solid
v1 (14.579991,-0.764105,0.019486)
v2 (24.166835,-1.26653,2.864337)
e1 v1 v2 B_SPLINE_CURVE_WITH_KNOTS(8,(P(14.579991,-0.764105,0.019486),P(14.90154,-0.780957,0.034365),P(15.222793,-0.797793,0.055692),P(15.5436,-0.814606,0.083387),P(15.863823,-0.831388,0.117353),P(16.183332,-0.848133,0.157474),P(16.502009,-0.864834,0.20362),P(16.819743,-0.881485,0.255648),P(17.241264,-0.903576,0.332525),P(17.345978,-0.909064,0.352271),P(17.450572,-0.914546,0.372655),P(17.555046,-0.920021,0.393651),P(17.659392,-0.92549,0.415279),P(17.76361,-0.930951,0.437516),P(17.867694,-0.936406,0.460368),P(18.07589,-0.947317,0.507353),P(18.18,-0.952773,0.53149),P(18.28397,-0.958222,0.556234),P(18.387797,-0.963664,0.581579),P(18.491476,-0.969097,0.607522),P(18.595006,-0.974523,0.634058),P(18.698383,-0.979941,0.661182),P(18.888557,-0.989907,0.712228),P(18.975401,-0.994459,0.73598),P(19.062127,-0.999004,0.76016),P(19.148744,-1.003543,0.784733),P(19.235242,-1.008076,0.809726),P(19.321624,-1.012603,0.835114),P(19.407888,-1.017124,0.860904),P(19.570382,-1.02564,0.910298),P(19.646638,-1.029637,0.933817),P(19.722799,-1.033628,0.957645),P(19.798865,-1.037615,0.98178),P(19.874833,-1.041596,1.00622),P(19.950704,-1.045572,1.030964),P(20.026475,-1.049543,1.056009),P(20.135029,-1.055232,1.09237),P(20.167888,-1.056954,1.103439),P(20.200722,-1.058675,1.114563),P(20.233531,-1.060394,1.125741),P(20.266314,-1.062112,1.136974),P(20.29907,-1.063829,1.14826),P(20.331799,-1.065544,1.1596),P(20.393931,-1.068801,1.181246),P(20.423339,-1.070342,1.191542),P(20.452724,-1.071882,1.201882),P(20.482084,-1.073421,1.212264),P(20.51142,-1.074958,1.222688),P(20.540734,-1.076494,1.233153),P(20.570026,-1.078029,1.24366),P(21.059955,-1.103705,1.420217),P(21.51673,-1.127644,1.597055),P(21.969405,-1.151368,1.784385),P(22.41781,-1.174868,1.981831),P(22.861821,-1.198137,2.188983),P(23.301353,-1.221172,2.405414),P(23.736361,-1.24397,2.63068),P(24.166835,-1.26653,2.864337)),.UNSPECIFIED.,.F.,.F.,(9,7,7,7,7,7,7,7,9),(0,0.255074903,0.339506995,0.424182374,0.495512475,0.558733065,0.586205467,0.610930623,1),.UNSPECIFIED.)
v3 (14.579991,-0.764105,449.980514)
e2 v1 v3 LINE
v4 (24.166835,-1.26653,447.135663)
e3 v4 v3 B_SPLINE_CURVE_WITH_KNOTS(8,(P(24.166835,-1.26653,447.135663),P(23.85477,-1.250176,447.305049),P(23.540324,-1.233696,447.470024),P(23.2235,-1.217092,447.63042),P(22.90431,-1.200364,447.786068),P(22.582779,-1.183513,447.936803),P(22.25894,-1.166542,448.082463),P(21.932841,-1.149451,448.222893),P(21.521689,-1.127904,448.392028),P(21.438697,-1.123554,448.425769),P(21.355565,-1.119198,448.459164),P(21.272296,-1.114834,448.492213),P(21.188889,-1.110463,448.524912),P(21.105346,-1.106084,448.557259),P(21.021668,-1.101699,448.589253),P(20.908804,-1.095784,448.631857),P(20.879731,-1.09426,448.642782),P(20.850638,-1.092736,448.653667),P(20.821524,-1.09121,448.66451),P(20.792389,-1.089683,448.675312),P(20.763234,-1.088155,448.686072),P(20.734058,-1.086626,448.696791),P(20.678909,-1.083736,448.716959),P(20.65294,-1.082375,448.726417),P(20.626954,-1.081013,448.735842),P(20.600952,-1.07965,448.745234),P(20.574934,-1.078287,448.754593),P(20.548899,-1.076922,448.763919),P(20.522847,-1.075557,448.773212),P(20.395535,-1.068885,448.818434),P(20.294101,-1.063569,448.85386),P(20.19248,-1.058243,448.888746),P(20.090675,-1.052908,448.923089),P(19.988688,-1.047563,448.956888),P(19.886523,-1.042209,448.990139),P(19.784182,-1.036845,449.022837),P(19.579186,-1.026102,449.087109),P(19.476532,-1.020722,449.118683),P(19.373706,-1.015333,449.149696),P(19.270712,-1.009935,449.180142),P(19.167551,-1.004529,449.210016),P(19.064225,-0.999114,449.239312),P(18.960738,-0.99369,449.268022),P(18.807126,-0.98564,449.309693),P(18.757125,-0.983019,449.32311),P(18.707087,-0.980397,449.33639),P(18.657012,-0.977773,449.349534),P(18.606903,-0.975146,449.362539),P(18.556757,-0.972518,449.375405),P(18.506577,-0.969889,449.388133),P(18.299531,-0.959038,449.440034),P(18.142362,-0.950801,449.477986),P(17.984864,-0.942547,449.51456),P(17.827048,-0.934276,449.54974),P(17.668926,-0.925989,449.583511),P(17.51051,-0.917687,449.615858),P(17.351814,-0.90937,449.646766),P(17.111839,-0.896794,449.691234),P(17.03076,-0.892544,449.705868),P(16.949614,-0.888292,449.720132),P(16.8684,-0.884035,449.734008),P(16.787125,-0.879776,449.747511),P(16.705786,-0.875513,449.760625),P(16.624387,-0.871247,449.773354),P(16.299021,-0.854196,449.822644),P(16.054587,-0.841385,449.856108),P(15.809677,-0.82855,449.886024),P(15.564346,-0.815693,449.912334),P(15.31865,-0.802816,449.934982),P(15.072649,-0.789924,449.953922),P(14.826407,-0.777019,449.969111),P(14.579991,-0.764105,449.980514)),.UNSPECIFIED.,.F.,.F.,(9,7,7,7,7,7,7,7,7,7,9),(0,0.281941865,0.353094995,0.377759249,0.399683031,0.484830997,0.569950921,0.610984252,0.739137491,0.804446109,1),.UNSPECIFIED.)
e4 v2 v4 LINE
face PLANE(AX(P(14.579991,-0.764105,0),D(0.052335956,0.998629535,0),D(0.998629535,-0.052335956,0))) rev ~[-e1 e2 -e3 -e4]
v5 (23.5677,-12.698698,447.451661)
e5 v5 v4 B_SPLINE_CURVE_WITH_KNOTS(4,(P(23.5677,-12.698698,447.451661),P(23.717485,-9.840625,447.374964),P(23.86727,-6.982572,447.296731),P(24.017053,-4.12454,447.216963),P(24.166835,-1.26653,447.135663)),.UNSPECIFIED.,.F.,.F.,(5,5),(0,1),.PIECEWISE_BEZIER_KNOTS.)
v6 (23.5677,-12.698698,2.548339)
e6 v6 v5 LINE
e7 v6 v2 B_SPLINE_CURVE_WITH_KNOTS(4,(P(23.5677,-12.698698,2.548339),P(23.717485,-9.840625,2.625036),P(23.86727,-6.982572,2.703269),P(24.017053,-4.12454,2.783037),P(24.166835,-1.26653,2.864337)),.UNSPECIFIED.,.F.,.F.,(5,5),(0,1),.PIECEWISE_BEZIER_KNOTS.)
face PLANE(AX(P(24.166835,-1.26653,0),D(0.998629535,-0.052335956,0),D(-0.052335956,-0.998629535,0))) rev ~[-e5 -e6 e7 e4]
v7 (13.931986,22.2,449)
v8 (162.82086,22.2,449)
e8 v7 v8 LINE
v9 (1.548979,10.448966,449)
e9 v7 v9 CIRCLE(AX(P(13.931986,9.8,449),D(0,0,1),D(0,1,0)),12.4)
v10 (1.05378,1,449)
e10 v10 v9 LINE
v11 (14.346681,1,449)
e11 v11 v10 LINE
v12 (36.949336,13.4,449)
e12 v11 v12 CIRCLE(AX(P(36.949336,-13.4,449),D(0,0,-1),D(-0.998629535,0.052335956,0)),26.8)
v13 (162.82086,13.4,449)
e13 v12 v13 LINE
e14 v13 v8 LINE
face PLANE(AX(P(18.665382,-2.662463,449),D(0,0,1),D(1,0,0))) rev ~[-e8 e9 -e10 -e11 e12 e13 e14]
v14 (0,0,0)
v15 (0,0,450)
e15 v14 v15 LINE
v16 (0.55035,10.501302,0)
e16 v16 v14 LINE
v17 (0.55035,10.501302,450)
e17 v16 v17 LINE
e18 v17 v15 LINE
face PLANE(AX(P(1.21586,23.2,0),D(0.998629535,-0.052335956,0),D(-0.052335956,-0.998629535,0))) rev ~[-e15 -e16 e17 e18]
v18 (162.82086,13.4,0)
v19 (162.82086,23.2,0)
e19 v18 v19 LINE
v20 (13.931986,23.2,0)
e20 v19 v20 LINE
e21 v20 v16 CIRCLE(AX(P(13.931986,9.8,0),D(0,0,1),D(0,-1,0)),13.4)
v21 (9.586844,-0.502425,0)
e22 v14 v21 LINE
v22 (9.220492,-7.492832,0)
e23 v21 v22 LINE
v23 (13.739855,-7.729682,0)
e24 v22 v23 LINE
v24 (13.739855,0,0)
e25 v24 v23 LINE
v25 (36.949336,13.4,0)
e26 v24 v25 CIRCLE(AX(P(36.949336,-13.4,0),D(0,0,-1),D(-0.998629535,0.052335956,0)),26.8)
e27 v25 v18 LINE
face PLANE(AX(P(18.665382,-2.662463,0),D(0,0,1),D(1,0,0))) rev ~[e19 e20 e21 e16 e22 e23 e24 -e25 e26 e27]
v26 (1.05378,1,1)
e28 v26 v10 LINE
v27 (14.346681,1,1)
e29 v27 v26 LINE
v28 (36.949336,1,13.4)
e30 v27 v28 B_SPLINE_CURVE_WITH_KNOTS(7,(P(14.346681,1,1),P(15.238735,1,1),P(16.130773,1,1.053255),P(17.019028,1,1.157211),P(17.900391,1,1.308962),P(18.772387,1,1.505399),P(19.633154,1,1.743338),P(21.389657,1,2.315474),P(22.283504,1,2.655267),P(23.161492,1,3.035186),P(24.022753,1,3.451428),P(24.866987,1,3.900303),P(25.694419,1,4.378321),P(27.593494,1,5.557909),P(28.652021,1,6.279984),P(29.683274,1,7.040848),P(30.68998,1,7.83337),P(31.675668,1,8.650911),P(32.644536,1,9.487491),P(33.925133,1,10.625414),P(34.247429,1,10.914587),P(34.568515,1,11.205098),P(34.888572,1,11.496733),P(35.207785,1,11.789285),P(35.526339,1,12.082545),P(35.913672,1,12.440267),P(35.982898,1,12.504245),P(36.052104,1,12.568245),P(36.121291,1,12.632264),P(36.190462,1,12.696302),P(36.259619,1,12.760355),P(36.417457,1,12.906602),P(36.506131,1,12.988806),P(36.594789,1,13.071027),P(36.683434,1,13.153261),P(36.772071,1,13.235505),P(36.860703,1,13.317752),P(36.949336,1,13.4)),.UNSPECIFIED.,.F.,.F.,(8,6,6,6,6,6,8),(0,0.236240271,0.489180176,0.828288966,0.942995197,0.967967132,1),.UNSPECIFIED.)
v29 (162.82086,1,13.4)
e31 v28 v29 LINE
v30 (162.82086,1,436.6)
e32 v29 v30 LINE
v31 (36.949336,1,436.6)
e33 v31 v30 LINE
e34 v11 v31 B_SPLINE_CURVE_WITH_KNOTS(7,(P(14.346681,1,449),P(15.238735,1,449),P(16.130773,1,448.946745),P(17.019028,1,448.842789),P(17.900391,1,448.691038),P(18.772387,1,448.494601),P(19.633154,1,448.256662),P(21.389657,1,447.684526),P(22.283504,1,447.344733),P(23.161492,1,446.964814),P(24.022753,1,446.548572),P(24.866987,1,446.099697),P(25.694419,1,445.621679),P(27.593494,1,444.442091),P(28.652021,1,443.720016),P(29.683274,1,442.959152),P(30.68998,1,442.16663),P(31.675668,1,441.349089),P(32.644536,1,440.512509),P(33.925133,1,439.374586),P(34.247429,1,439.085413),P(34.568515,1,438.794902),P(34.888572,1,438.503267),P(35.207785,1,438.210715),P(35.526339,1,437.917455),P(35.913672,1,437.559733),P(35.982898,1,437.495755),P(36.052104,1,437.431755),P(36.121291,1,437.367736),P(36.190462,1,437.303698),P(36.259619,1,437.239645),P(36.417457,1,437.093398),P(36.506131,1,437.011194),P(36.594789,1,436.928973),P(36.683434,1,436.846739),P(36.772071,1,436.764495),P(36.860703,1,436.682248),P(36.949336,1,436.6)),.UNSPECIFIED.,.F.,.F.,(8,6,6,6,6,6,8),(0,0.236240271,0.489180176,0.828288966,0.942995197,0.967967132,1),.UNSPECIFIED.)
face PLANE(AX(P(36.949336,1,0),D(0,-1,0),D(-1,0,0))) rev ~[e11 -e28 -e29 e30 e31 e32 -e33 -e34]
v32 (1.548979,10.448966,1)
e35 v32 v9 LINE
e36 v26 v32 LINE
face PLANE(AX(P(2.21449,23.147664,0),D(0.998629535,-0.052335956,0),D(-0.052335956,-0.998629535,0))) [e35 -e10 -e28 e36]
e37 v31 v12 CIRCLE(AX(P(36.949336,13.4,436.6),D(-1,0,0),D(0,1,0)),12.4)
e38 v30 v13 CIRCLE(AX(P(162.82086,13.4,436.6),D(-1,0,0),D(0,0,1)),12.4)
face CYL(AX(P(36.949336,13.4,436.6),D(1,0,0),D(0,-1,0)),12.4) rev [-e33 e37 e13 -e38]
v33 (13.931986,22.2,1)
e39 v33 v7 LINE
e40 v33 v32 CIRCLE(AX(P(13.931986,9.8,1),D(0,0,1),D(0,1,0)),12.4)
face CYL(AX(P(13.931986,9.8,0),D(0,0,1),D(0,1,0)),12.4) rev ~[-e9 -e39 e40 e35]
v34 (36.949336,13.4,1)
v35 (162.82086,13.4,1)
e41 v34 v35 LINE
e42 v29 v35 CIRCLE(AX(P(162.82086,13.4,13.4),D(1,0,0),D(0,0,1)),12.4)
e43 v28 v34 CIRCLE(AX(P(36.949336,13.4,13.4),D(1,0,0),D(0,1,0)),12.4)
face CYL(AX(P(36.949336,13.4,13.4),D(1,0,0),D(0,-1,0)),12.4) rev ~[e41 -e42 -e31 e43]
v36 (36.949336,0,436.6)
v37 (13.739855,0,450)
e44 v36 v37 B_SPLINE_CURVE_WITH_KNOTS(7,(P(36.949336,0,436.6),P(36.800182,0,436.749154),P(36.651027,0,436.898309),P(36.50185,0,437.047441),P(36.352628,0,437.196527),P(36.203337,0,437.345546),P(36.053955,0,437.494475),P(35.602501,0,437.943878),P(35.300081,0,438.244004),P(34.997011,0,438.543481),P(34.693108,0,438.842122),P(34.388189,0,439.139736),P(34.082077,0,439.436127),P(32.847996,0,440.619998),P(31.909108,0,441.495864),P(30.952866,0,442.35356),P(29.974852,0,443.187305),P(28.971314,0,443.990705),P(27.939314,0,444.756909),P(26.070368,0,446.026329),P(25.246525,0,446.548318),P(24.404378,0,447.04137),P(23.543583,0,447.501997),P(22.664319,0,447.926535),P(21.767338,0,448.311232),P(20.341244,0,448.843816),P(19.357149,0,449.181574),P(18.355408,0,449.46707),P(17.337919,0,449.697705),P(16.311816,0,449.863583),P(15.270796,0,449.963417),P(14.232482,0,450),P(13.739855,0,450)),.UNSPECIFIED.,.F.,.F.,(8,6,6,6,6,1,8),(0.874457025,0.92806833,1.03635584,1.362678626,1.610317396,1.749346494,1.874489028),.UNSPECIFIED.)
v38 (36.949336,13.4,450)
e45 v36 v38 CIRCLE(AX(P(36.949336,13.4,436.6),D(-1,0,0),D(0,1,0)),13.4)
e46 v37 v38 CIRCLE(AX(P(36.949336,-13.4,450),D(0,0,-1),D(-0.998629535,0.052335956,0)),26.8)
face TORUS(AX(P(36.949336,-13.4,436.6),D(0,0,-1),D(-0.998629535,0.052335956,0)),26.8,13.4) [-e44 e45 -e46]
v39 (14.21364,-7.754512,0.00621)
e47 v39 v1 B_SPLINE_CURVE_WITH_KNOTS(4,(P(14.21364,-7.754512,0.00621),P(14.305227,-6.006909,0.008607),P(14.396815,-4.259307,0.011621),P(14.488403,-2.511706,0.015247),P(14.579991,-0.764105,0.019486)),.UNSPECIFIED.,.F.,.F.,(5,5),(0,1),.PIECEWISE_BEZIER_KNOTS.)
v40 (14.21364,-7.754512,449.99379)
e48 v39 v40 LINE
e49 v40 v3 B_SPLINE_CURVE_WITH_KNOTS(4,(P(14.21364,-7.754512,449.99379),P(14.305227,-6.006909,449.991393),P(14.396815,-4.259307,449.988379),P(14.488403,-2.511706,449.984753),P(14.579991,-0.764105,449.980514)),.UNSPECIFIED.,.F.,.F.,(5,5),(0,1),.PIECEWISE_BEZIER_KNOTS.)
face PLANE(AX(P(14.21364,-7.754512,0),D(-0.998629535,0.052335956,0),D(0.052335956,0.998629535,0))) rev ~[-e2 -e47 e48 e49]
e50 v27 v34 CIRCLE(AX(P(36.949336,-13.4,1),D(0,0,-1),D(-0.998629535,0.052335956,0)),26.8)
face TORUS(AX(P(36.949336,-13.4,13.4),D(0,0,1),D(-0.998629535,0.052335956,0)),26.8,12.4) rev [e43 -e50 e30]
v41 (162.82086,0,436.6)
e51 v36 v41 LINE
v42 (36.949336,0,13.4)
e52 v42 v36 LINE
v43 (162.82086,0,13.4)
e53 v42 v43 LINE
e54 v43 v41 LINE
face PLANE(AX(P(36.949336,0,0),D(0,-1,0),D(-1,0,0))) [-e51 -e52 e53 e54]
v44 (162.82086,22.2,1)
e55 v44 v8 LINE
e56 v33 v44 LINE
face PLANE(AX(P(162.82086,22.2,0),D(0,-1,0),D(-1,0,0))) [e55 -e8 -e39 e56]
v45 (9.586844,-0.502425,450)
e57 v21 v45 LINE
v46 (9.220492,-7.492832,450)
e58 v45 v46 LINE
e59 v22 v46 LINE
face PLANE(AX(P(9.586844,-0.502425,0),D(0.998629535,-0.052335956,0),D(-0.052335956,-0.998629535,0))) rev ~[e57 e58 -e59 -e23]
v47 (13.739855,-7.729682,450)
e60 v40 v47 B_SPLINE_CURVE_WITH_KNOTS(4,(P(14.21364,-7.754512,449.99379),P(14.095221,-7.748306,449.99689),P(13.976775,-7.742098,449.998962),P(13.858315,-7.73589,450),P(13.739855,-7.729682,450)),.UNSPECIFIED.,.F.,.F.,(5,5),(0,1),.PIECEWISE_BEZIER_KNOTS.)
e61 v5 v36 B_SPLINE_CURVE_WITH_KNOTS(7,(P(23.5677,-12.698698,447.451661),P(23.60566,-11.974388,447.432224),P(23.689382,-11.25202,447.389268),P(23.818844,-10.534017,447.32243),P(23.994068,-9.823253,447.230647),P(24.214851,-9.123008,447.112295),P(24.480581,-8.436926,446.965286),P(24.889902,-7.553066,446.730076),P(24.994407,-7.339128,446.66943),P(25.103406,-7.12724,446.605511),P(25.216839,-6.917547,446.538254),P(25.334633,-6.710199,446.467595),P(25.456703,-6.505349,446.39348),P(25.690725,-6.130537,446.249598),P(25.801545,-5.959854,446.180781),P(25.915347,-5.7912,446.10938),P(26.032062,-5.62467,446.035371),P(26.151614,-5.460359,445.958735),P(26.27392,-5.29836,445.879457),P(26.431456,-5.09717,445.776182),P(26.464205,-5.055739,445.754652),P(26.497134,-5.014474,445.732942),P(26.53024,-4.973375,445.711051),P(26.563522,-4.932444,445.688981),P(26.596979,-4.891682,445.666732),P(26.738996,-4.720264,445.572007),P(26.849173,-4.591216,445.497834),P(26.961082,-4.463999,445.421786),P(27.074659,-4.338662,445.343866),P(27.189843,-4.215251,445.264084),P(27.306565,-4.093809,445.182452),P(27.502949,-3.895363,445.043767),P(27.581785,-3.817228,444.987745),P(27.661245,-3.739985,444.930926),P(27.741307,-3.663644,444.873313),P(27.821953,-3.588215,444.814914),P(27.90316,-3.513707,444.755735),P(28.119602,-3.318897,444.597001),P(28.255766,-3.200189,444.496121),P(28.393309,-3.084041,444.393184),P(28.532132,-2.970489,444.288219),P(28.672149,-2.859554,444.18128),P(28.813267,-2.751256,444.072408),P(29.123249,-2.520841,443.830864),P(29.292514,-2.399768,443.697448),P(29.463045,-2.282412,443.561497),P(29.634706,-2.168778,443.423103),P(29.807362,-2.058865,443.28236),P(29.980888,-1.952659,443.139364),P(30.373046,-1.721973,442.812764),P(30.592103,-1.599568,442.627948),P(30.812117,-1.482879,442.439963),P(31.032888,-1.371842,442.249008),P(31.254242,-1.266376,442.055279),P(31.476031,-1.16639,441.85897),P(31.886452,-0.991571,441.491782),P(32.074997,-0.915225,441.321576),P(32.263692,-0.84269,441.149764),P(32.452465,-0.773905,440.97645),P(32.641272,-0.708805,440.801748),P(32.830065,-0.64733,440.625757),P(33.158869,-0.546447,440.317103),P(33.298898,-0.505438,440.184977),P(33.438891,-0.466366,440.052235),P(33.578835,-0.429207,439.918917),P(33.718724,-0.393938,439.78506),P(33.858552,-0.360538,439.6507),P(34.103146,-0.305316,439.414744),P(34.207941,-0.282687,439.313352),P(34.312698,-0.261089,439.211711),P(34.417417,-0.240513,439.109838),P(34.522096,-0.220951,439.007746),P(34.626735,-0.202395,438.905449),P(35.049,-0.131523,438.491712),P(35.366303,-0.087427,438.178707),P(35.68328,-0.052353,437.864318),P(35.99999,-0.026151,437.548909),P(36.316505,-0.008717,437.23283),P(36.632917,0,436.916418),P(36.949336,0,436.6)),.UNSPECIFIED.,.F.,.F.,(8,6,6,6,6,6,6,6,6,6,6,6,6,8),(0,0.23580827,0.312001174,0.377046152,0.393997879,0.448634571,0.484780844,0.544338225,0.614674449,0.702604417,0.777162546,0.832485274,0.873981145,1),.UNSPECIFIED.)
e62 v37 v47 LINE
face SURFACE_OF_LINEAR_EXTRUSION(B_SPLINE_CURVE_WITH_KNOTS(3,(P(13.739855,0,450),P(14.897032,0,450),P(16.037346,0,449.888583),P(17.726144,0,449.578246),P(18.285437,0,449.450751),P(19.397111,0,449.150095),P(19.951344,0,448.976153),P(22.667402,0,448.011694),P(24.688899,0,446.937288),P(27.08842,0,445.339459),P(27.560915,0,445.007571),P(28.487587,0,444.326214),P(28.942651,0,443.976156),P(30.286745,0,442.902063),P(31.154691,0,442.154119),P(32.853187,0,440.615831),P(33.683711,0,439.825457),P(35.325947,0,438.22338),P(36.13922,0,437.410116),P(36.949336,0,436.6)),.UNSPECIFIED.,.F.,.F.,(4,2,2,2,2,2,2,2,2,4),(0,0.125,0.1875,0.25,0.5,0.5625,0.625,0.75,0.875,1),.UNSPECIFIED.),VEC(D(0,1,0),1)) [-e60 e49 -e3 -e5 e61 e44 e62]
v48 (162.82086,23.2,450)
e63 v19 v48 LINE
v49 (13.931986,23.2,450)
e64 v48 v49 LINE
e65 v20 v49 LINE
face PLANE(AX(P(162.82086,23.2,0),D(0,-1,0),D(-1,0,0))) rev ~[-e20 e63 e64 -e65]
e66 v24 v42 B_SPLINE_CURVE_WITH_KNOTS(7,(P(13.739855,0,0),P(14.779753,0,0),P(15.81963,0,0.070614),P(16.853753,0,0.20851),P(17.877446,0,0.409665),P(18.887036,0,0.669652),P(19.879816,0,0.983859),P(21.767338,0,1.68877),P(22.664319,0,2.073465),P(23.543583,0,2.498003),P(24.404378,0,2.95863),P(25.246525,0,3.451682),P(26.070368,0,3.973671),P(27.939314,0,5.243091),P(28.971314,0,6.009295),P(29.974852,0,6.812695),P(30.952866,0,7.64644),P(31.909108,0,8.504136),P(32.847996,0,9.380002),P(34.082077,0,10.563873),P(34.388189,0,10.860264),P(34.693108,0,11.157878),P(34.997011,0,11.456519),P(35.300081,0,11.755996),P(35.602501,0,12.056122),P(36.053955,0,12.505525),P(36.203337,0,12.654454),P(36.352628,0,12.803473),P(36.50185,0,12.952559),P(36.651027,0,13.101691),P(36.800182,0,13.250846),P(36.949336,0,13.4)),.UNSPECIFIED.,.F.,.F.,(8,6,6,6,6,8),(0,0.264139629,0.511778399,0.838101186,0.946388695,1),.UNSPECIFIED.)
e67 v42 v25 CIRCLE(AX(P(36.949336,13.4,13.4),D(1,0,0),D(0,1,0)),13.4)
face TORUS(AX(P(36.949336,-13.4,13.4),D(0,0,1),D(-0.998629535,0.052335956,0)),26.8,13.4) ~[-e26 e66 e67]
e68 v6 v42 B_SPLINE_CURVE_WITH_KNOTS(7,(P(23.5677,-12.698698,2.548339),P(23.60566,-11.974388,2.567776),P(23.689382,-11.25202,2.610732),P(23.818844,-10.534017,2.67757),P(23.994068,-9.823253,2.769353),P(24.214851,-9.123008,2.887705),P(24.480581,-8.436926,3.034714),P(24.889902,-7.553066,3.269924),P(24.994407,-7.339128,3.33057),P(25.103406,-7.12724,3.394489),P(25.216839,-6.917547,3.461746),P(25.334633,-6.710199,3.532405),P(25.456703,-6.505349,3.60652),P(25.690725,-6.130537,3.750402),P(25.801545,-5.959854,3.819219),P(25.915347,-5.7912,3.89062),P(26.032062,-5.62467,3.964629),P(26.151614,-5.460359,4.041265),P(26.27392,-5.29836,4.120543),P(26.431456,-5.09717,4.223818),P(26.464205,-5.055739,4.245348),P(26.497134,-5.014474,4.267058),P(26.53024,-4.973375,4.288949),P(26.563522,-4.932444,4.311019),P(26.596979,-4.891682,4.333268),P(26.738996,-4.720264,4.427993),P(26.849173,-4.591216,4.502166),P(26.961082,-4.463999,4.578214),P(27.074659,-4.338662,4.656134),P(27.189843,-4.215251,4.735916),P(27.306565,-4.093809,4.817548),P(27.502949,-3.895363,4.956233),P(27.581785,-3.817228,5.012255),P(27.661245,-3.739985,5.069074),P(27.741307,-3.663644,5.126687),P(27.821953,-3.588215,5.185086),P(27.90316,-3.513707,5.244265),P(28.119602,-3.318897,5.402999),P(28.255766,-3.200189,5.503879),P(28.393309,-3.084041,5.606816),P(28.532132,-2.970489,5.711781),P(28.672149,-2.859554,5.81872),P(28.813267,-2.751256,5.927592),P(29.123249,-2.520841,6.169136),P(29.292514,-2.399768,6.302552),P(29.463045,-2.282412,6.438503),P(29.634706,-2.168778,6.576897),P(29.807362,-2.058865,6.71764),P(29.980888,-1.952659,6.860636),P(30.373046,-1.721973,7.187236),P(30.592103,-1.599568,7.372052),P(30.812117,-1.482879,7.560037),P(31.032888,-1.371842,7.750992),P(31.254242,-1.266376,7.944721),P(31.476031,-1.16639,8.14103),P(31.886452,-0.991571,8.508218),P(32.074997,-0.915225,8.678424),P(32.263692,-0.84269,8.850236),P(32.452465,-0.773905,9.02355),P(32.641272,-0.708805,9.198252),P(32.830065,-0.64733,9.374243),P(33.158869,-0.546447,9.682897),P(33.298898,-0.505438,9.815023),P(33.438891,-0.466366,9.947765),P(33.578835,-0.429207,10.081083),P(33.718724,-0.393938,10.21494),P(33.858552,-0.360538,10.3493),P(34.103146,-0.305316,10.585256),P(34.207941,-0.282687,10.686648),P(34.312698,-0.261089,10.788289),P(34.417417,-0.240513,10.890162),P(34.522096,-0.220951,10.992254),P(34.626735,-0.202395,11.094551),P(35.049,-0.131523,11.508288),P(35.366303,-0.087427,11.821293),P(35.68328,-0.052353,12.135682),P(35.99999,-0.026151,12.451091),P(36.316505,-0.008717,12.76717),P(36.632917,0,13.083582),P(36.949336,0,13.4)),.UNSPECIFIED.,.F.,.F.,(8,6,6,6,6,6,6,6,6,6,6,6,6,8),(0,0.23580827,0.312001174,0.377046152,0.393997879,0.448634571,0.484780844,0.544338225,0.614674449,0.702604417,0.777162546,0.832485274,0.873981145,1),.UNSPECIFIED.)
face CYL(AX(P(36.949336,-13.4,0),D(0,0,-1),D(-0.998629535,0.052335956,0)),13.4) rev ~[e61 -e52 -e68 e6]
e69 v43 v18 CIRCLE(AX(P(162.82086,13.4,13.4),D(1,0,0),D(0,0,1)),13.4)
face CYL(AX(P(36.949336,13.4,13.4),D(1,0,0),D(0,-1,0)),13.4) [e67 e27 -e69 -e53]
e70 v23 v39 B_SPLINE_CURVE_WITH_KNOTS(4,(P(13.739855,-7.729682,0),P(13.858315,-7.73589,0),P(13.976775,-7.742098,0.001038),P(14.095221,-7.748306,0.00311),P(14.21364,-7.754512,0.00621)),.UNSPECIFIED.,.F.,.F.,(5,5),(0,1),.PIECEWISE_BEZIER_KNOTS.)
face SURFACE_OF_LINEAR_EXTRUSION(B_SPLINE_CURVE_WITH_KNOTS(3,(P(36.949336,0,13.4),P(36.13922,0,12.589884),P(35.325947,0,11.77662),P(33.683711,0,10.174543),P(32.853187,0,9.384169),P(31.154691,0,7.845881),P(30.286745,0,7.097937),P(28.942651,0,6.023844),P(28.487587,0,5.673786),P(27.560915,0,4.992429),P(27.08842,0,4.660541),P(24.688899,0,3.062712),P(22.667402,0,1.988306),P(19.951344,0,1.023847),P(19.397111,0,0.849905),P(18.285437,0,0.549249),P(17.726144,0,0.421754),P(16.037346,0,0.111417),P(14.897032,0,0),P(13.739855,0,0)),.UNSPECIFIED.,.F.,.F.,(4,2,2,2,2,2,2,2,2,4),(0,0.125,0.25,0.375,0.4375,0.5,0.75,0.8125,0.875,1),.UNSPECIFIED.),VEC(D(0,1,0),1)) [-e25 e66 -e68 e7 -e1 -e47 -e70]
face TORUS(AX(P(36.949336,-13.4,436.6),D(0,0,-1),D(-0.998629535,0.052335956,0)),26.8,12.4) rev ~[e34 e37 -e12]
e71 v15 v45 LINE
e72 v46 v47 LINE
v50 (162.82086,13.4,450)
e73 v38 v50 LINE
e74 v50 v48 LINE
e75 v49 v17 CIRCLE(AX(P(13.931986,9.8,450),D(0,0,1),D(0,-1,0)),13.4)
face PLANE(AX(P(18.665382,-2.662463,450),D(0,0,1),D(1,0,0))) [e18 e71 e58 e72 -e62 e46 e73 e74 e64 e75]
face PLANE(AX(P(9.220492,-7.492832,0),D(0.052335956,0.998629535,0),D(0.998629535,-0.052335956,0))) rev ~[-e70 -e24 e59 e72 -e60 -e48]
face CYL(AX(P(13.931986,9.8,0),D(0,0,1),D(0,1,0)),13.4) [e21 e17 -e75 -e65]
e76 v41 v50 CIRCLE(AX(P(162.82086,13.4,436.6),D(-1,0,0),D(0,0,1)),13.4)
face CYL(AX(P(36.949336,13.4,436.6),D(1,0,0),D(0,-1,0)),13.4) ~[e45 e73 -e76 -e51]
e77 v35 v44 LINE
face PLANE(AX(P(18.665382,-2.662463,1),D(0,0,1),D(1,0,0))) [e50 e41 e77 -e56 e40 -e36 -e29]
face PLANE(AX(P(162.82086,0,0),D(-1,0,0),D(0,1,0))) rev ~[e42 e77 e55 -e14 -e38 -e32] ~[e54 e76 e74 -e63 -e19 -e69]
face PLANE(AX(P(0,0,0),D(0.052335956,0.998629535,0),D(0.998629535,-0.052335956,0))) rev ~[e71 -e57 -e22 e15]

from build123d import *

# Parameters (mm, degrees)
BOSS_EXTRUDE1_DEPTH = 450
FILLET1_R           = 13.4
BOSS_EXTRUDE2_DEPTH = 450
FILLET2_R           = 13.4
CUT_EXTRUDE1_DEPTH  = 451.0000001
SHELL1_T            = -1
BOSS_EXTRUDE3_DEPTH = 450
CUT_EXTRUDE2_DEPTH  = 13.698698186


with BuildPart() as part:
    # Sketch2 → Boss-Extrude1 (new body)
    with BuildSketch(Plane.XY):
        Polygon((0, 0), (162.820860479, 0), (162.820860479, 23.2), (1.215860479, 23.2), align=None)
    extrude(amount=BOSS_EXTRUDE1_DEPTH)

    # Fillet1
    fillet1_edges = [part.edges().sort_by_distance(p)[0] for p in [
        (1.215860479, 23.2, 225),
    ]]
    fillet(fillet1_edges, radius=FILLET1_R)

    # Sketch4 → Boss-Extrude2 (add, through all)
    with BuildSketch(Plane.XY.offset(450)):
        with BuildLine():
            Line((24.166834741, -1.266530141), (23.567700201, -12.698698186))
            ThreePointArc((23.567700201, -12.698698186), (27.725384653, -3.679983428), (36.949335967, 0))
            Line((36.949335967, 0), (0, 0))
            Line((0, 0), (9.586843534, -0.50242518))
            Line((9.586843534, -0.50242518), (9.22049184, -7.492831923))
            Line((9.22049184, -7.492831923), (14.213639514, -7.754511704))
            Line((14.213639514, -7.754511704), (14.579991207, -0.764104961))
            Line((14.579991207, -0.764104961), (24.166834741, -1.266530141))
        make_face()
    extrude(amount=-BOSS_EXTRUDE2_DEPTH)

    # Fillet2
    fillet2_edges = [part.edges().sort_by_distance(p)[0] for p in [
        (27.725384653, -3.679983428, 0),
        (27.725384653, -3.679983428, 450),
        (99.885098223, 0, 450),
        (99.885098223, 0, 0),
    ]]
    fillet(fillet2_edges, radius=FILLET2_R)

    # Sketch5 → Cut-Extrude1 (cut, through all)
    with BuildSketch(Plane.XY):
        with BuildLine():
            Line((24.166834741, -1.266530141), (23.567700201, -12.698698186))
            ThreePointArc((23.567700201, -12.698698186), (27.725384653, -3.679983428), (36.949335967, 0))
            Line((36.949335967, 0), (0, 0))
            Line((0, 0), (9.586843534, -0.50242518))
            Line((9.586843534, -0.50242518), (9.22049184, -7.492831923))
            Line((9.22049184, -7.492831923), (14.213639514, -7.754511704))
            Line((14.213639514, -7.754511704), (14.579991207, -0.764104961))
            Line((14.579991207, -0.764104961), (24.166834741, -1.266530141))
        make_face()
    extrude(amount=CUT_EXTRUDE1_DEPTH, mode=Mode.SUBTRACT)

    # Shell1
    shell1_openings = [part.faces().sort_by_distance(p)[0] for p in [
        (162.820860479, 11.274923044, 225),
    ]]
    offset(amount=SHELL1_T, openings=shell1_openings)

    # Sketch6 → Boss-Extrude3 (add)
    with BuildSketch(Plane.XY):
        with BuildLine():
            Line((24.166834741, -1.266530141), (23.567700201, -12.698698186))
            ThreePointArc((23.567700201, -12.698698186), (27.725384653, -3.679983428), (36.949335967, 0))
            Line((36.949335967, 0), (0, 0))
            Line((0, 0), (9.586843534, -0.50242518))
            Line((9.586843534, -0.50242518), (9.22049184, -7.492831923))
            Line((9.22049184, -7.492831923), (14.213639514, -7.754511704))
            Line((14.213639514, -7.754511704), (14.579991207, -0.764104961))
            Line((14.579991207, -0.764104961), (24.166834741, -1.266530141))
        make_face()
    extrude(amount=BOSS_EXTRUDE3_DEPTH)

    # Sketch7 → Cut-Extrude2 (cut, through all)
    with BuildSketch(Plane.XZ):
        with BuildLine():
            Line((13.739855146, 450), (36.949335967, 450))
            Line((36.949335967, 450), (36.949335967, 436.6))
            add(Edge.make_bspline(
                [(13.739855146, 450), (14.897031698, 450), (16.037346218, 449.888583323), (17.726143963, 449.5782461), (18.285436938, 449.450751492), (19.397111441, 449.150094553), (19.951343846, 448.976153087), (22.667401959, 448.011694289), (24.688899416, 446.937288096), (27.088419743, 445.339458648), (27.560915156, 445.007570641), (28.487586558, 444.326213533), (28.942650844, 443.976156414), (30.286745236, 442.902062513), (31.15469064, 442.154118787), (32.853186658, 440.615831161), (33.683710559, 439.825456971), (35.32594722, 438.223379533), (36.139219776, 437.410115889), (36.949335967, 436.6)],
                knots=[0, 0, 0, 0, 0.125, 0.125, 0.1875, 0.1875, 0.25, 0.25, 0.5, 0.5, 0.5625, 0.5625, 0.625, 0.625, 0.75, 0.75, 0.875, 0.875, 1, 1, 1, 1], degree=3))
        make_face()
        with BuildLine():
            Line((36.949335967, 13.4), (36.949335967, 0))
            Line((36.949335967, 0), (13.739855146, 0))
            add(Edge.make_bspline(
                [(36.949335967, 13.4), (36.139219776, 12.589884111), (35.32594722, 11.776620467), (33.683710559, 10.174543029), (32.853186658, 9.384168839), (31.15469064, 7.845881213), (30.286745236, 7.097937487), (28.942650844, 6.023843586), (28.487586558, 5.673786467), (27.560915156, 4.992429359), (27.088419743, 4.660541352), (24.688899416, 3.062711904), (22.667401959, 1.988305711), (19.951343846, 1.023846913), (19.397111441, 0.849905447), (18.285436938, 0.549248508), (17.726143963, 0.4217539), (16.037346218, 0.111416677), (14.897031698, 0), (13.739855146, 0)],
                knots=[0, 0, 0, 0, 0.125, 0.125, 0.25, 0.25, 0.375, 0.375, 0.4375, 0.4375, 0.5, 0.5, 0.75, 0.75, 0.8125, 0.8125, 0.875, 0.875, 1, 1, 1, 1], degree=3))
        make_face()
    extrude(amount=CUT_EXTRUDE2_DEPTH, mode=Mode.SUBTRACT)


solid = part.part
